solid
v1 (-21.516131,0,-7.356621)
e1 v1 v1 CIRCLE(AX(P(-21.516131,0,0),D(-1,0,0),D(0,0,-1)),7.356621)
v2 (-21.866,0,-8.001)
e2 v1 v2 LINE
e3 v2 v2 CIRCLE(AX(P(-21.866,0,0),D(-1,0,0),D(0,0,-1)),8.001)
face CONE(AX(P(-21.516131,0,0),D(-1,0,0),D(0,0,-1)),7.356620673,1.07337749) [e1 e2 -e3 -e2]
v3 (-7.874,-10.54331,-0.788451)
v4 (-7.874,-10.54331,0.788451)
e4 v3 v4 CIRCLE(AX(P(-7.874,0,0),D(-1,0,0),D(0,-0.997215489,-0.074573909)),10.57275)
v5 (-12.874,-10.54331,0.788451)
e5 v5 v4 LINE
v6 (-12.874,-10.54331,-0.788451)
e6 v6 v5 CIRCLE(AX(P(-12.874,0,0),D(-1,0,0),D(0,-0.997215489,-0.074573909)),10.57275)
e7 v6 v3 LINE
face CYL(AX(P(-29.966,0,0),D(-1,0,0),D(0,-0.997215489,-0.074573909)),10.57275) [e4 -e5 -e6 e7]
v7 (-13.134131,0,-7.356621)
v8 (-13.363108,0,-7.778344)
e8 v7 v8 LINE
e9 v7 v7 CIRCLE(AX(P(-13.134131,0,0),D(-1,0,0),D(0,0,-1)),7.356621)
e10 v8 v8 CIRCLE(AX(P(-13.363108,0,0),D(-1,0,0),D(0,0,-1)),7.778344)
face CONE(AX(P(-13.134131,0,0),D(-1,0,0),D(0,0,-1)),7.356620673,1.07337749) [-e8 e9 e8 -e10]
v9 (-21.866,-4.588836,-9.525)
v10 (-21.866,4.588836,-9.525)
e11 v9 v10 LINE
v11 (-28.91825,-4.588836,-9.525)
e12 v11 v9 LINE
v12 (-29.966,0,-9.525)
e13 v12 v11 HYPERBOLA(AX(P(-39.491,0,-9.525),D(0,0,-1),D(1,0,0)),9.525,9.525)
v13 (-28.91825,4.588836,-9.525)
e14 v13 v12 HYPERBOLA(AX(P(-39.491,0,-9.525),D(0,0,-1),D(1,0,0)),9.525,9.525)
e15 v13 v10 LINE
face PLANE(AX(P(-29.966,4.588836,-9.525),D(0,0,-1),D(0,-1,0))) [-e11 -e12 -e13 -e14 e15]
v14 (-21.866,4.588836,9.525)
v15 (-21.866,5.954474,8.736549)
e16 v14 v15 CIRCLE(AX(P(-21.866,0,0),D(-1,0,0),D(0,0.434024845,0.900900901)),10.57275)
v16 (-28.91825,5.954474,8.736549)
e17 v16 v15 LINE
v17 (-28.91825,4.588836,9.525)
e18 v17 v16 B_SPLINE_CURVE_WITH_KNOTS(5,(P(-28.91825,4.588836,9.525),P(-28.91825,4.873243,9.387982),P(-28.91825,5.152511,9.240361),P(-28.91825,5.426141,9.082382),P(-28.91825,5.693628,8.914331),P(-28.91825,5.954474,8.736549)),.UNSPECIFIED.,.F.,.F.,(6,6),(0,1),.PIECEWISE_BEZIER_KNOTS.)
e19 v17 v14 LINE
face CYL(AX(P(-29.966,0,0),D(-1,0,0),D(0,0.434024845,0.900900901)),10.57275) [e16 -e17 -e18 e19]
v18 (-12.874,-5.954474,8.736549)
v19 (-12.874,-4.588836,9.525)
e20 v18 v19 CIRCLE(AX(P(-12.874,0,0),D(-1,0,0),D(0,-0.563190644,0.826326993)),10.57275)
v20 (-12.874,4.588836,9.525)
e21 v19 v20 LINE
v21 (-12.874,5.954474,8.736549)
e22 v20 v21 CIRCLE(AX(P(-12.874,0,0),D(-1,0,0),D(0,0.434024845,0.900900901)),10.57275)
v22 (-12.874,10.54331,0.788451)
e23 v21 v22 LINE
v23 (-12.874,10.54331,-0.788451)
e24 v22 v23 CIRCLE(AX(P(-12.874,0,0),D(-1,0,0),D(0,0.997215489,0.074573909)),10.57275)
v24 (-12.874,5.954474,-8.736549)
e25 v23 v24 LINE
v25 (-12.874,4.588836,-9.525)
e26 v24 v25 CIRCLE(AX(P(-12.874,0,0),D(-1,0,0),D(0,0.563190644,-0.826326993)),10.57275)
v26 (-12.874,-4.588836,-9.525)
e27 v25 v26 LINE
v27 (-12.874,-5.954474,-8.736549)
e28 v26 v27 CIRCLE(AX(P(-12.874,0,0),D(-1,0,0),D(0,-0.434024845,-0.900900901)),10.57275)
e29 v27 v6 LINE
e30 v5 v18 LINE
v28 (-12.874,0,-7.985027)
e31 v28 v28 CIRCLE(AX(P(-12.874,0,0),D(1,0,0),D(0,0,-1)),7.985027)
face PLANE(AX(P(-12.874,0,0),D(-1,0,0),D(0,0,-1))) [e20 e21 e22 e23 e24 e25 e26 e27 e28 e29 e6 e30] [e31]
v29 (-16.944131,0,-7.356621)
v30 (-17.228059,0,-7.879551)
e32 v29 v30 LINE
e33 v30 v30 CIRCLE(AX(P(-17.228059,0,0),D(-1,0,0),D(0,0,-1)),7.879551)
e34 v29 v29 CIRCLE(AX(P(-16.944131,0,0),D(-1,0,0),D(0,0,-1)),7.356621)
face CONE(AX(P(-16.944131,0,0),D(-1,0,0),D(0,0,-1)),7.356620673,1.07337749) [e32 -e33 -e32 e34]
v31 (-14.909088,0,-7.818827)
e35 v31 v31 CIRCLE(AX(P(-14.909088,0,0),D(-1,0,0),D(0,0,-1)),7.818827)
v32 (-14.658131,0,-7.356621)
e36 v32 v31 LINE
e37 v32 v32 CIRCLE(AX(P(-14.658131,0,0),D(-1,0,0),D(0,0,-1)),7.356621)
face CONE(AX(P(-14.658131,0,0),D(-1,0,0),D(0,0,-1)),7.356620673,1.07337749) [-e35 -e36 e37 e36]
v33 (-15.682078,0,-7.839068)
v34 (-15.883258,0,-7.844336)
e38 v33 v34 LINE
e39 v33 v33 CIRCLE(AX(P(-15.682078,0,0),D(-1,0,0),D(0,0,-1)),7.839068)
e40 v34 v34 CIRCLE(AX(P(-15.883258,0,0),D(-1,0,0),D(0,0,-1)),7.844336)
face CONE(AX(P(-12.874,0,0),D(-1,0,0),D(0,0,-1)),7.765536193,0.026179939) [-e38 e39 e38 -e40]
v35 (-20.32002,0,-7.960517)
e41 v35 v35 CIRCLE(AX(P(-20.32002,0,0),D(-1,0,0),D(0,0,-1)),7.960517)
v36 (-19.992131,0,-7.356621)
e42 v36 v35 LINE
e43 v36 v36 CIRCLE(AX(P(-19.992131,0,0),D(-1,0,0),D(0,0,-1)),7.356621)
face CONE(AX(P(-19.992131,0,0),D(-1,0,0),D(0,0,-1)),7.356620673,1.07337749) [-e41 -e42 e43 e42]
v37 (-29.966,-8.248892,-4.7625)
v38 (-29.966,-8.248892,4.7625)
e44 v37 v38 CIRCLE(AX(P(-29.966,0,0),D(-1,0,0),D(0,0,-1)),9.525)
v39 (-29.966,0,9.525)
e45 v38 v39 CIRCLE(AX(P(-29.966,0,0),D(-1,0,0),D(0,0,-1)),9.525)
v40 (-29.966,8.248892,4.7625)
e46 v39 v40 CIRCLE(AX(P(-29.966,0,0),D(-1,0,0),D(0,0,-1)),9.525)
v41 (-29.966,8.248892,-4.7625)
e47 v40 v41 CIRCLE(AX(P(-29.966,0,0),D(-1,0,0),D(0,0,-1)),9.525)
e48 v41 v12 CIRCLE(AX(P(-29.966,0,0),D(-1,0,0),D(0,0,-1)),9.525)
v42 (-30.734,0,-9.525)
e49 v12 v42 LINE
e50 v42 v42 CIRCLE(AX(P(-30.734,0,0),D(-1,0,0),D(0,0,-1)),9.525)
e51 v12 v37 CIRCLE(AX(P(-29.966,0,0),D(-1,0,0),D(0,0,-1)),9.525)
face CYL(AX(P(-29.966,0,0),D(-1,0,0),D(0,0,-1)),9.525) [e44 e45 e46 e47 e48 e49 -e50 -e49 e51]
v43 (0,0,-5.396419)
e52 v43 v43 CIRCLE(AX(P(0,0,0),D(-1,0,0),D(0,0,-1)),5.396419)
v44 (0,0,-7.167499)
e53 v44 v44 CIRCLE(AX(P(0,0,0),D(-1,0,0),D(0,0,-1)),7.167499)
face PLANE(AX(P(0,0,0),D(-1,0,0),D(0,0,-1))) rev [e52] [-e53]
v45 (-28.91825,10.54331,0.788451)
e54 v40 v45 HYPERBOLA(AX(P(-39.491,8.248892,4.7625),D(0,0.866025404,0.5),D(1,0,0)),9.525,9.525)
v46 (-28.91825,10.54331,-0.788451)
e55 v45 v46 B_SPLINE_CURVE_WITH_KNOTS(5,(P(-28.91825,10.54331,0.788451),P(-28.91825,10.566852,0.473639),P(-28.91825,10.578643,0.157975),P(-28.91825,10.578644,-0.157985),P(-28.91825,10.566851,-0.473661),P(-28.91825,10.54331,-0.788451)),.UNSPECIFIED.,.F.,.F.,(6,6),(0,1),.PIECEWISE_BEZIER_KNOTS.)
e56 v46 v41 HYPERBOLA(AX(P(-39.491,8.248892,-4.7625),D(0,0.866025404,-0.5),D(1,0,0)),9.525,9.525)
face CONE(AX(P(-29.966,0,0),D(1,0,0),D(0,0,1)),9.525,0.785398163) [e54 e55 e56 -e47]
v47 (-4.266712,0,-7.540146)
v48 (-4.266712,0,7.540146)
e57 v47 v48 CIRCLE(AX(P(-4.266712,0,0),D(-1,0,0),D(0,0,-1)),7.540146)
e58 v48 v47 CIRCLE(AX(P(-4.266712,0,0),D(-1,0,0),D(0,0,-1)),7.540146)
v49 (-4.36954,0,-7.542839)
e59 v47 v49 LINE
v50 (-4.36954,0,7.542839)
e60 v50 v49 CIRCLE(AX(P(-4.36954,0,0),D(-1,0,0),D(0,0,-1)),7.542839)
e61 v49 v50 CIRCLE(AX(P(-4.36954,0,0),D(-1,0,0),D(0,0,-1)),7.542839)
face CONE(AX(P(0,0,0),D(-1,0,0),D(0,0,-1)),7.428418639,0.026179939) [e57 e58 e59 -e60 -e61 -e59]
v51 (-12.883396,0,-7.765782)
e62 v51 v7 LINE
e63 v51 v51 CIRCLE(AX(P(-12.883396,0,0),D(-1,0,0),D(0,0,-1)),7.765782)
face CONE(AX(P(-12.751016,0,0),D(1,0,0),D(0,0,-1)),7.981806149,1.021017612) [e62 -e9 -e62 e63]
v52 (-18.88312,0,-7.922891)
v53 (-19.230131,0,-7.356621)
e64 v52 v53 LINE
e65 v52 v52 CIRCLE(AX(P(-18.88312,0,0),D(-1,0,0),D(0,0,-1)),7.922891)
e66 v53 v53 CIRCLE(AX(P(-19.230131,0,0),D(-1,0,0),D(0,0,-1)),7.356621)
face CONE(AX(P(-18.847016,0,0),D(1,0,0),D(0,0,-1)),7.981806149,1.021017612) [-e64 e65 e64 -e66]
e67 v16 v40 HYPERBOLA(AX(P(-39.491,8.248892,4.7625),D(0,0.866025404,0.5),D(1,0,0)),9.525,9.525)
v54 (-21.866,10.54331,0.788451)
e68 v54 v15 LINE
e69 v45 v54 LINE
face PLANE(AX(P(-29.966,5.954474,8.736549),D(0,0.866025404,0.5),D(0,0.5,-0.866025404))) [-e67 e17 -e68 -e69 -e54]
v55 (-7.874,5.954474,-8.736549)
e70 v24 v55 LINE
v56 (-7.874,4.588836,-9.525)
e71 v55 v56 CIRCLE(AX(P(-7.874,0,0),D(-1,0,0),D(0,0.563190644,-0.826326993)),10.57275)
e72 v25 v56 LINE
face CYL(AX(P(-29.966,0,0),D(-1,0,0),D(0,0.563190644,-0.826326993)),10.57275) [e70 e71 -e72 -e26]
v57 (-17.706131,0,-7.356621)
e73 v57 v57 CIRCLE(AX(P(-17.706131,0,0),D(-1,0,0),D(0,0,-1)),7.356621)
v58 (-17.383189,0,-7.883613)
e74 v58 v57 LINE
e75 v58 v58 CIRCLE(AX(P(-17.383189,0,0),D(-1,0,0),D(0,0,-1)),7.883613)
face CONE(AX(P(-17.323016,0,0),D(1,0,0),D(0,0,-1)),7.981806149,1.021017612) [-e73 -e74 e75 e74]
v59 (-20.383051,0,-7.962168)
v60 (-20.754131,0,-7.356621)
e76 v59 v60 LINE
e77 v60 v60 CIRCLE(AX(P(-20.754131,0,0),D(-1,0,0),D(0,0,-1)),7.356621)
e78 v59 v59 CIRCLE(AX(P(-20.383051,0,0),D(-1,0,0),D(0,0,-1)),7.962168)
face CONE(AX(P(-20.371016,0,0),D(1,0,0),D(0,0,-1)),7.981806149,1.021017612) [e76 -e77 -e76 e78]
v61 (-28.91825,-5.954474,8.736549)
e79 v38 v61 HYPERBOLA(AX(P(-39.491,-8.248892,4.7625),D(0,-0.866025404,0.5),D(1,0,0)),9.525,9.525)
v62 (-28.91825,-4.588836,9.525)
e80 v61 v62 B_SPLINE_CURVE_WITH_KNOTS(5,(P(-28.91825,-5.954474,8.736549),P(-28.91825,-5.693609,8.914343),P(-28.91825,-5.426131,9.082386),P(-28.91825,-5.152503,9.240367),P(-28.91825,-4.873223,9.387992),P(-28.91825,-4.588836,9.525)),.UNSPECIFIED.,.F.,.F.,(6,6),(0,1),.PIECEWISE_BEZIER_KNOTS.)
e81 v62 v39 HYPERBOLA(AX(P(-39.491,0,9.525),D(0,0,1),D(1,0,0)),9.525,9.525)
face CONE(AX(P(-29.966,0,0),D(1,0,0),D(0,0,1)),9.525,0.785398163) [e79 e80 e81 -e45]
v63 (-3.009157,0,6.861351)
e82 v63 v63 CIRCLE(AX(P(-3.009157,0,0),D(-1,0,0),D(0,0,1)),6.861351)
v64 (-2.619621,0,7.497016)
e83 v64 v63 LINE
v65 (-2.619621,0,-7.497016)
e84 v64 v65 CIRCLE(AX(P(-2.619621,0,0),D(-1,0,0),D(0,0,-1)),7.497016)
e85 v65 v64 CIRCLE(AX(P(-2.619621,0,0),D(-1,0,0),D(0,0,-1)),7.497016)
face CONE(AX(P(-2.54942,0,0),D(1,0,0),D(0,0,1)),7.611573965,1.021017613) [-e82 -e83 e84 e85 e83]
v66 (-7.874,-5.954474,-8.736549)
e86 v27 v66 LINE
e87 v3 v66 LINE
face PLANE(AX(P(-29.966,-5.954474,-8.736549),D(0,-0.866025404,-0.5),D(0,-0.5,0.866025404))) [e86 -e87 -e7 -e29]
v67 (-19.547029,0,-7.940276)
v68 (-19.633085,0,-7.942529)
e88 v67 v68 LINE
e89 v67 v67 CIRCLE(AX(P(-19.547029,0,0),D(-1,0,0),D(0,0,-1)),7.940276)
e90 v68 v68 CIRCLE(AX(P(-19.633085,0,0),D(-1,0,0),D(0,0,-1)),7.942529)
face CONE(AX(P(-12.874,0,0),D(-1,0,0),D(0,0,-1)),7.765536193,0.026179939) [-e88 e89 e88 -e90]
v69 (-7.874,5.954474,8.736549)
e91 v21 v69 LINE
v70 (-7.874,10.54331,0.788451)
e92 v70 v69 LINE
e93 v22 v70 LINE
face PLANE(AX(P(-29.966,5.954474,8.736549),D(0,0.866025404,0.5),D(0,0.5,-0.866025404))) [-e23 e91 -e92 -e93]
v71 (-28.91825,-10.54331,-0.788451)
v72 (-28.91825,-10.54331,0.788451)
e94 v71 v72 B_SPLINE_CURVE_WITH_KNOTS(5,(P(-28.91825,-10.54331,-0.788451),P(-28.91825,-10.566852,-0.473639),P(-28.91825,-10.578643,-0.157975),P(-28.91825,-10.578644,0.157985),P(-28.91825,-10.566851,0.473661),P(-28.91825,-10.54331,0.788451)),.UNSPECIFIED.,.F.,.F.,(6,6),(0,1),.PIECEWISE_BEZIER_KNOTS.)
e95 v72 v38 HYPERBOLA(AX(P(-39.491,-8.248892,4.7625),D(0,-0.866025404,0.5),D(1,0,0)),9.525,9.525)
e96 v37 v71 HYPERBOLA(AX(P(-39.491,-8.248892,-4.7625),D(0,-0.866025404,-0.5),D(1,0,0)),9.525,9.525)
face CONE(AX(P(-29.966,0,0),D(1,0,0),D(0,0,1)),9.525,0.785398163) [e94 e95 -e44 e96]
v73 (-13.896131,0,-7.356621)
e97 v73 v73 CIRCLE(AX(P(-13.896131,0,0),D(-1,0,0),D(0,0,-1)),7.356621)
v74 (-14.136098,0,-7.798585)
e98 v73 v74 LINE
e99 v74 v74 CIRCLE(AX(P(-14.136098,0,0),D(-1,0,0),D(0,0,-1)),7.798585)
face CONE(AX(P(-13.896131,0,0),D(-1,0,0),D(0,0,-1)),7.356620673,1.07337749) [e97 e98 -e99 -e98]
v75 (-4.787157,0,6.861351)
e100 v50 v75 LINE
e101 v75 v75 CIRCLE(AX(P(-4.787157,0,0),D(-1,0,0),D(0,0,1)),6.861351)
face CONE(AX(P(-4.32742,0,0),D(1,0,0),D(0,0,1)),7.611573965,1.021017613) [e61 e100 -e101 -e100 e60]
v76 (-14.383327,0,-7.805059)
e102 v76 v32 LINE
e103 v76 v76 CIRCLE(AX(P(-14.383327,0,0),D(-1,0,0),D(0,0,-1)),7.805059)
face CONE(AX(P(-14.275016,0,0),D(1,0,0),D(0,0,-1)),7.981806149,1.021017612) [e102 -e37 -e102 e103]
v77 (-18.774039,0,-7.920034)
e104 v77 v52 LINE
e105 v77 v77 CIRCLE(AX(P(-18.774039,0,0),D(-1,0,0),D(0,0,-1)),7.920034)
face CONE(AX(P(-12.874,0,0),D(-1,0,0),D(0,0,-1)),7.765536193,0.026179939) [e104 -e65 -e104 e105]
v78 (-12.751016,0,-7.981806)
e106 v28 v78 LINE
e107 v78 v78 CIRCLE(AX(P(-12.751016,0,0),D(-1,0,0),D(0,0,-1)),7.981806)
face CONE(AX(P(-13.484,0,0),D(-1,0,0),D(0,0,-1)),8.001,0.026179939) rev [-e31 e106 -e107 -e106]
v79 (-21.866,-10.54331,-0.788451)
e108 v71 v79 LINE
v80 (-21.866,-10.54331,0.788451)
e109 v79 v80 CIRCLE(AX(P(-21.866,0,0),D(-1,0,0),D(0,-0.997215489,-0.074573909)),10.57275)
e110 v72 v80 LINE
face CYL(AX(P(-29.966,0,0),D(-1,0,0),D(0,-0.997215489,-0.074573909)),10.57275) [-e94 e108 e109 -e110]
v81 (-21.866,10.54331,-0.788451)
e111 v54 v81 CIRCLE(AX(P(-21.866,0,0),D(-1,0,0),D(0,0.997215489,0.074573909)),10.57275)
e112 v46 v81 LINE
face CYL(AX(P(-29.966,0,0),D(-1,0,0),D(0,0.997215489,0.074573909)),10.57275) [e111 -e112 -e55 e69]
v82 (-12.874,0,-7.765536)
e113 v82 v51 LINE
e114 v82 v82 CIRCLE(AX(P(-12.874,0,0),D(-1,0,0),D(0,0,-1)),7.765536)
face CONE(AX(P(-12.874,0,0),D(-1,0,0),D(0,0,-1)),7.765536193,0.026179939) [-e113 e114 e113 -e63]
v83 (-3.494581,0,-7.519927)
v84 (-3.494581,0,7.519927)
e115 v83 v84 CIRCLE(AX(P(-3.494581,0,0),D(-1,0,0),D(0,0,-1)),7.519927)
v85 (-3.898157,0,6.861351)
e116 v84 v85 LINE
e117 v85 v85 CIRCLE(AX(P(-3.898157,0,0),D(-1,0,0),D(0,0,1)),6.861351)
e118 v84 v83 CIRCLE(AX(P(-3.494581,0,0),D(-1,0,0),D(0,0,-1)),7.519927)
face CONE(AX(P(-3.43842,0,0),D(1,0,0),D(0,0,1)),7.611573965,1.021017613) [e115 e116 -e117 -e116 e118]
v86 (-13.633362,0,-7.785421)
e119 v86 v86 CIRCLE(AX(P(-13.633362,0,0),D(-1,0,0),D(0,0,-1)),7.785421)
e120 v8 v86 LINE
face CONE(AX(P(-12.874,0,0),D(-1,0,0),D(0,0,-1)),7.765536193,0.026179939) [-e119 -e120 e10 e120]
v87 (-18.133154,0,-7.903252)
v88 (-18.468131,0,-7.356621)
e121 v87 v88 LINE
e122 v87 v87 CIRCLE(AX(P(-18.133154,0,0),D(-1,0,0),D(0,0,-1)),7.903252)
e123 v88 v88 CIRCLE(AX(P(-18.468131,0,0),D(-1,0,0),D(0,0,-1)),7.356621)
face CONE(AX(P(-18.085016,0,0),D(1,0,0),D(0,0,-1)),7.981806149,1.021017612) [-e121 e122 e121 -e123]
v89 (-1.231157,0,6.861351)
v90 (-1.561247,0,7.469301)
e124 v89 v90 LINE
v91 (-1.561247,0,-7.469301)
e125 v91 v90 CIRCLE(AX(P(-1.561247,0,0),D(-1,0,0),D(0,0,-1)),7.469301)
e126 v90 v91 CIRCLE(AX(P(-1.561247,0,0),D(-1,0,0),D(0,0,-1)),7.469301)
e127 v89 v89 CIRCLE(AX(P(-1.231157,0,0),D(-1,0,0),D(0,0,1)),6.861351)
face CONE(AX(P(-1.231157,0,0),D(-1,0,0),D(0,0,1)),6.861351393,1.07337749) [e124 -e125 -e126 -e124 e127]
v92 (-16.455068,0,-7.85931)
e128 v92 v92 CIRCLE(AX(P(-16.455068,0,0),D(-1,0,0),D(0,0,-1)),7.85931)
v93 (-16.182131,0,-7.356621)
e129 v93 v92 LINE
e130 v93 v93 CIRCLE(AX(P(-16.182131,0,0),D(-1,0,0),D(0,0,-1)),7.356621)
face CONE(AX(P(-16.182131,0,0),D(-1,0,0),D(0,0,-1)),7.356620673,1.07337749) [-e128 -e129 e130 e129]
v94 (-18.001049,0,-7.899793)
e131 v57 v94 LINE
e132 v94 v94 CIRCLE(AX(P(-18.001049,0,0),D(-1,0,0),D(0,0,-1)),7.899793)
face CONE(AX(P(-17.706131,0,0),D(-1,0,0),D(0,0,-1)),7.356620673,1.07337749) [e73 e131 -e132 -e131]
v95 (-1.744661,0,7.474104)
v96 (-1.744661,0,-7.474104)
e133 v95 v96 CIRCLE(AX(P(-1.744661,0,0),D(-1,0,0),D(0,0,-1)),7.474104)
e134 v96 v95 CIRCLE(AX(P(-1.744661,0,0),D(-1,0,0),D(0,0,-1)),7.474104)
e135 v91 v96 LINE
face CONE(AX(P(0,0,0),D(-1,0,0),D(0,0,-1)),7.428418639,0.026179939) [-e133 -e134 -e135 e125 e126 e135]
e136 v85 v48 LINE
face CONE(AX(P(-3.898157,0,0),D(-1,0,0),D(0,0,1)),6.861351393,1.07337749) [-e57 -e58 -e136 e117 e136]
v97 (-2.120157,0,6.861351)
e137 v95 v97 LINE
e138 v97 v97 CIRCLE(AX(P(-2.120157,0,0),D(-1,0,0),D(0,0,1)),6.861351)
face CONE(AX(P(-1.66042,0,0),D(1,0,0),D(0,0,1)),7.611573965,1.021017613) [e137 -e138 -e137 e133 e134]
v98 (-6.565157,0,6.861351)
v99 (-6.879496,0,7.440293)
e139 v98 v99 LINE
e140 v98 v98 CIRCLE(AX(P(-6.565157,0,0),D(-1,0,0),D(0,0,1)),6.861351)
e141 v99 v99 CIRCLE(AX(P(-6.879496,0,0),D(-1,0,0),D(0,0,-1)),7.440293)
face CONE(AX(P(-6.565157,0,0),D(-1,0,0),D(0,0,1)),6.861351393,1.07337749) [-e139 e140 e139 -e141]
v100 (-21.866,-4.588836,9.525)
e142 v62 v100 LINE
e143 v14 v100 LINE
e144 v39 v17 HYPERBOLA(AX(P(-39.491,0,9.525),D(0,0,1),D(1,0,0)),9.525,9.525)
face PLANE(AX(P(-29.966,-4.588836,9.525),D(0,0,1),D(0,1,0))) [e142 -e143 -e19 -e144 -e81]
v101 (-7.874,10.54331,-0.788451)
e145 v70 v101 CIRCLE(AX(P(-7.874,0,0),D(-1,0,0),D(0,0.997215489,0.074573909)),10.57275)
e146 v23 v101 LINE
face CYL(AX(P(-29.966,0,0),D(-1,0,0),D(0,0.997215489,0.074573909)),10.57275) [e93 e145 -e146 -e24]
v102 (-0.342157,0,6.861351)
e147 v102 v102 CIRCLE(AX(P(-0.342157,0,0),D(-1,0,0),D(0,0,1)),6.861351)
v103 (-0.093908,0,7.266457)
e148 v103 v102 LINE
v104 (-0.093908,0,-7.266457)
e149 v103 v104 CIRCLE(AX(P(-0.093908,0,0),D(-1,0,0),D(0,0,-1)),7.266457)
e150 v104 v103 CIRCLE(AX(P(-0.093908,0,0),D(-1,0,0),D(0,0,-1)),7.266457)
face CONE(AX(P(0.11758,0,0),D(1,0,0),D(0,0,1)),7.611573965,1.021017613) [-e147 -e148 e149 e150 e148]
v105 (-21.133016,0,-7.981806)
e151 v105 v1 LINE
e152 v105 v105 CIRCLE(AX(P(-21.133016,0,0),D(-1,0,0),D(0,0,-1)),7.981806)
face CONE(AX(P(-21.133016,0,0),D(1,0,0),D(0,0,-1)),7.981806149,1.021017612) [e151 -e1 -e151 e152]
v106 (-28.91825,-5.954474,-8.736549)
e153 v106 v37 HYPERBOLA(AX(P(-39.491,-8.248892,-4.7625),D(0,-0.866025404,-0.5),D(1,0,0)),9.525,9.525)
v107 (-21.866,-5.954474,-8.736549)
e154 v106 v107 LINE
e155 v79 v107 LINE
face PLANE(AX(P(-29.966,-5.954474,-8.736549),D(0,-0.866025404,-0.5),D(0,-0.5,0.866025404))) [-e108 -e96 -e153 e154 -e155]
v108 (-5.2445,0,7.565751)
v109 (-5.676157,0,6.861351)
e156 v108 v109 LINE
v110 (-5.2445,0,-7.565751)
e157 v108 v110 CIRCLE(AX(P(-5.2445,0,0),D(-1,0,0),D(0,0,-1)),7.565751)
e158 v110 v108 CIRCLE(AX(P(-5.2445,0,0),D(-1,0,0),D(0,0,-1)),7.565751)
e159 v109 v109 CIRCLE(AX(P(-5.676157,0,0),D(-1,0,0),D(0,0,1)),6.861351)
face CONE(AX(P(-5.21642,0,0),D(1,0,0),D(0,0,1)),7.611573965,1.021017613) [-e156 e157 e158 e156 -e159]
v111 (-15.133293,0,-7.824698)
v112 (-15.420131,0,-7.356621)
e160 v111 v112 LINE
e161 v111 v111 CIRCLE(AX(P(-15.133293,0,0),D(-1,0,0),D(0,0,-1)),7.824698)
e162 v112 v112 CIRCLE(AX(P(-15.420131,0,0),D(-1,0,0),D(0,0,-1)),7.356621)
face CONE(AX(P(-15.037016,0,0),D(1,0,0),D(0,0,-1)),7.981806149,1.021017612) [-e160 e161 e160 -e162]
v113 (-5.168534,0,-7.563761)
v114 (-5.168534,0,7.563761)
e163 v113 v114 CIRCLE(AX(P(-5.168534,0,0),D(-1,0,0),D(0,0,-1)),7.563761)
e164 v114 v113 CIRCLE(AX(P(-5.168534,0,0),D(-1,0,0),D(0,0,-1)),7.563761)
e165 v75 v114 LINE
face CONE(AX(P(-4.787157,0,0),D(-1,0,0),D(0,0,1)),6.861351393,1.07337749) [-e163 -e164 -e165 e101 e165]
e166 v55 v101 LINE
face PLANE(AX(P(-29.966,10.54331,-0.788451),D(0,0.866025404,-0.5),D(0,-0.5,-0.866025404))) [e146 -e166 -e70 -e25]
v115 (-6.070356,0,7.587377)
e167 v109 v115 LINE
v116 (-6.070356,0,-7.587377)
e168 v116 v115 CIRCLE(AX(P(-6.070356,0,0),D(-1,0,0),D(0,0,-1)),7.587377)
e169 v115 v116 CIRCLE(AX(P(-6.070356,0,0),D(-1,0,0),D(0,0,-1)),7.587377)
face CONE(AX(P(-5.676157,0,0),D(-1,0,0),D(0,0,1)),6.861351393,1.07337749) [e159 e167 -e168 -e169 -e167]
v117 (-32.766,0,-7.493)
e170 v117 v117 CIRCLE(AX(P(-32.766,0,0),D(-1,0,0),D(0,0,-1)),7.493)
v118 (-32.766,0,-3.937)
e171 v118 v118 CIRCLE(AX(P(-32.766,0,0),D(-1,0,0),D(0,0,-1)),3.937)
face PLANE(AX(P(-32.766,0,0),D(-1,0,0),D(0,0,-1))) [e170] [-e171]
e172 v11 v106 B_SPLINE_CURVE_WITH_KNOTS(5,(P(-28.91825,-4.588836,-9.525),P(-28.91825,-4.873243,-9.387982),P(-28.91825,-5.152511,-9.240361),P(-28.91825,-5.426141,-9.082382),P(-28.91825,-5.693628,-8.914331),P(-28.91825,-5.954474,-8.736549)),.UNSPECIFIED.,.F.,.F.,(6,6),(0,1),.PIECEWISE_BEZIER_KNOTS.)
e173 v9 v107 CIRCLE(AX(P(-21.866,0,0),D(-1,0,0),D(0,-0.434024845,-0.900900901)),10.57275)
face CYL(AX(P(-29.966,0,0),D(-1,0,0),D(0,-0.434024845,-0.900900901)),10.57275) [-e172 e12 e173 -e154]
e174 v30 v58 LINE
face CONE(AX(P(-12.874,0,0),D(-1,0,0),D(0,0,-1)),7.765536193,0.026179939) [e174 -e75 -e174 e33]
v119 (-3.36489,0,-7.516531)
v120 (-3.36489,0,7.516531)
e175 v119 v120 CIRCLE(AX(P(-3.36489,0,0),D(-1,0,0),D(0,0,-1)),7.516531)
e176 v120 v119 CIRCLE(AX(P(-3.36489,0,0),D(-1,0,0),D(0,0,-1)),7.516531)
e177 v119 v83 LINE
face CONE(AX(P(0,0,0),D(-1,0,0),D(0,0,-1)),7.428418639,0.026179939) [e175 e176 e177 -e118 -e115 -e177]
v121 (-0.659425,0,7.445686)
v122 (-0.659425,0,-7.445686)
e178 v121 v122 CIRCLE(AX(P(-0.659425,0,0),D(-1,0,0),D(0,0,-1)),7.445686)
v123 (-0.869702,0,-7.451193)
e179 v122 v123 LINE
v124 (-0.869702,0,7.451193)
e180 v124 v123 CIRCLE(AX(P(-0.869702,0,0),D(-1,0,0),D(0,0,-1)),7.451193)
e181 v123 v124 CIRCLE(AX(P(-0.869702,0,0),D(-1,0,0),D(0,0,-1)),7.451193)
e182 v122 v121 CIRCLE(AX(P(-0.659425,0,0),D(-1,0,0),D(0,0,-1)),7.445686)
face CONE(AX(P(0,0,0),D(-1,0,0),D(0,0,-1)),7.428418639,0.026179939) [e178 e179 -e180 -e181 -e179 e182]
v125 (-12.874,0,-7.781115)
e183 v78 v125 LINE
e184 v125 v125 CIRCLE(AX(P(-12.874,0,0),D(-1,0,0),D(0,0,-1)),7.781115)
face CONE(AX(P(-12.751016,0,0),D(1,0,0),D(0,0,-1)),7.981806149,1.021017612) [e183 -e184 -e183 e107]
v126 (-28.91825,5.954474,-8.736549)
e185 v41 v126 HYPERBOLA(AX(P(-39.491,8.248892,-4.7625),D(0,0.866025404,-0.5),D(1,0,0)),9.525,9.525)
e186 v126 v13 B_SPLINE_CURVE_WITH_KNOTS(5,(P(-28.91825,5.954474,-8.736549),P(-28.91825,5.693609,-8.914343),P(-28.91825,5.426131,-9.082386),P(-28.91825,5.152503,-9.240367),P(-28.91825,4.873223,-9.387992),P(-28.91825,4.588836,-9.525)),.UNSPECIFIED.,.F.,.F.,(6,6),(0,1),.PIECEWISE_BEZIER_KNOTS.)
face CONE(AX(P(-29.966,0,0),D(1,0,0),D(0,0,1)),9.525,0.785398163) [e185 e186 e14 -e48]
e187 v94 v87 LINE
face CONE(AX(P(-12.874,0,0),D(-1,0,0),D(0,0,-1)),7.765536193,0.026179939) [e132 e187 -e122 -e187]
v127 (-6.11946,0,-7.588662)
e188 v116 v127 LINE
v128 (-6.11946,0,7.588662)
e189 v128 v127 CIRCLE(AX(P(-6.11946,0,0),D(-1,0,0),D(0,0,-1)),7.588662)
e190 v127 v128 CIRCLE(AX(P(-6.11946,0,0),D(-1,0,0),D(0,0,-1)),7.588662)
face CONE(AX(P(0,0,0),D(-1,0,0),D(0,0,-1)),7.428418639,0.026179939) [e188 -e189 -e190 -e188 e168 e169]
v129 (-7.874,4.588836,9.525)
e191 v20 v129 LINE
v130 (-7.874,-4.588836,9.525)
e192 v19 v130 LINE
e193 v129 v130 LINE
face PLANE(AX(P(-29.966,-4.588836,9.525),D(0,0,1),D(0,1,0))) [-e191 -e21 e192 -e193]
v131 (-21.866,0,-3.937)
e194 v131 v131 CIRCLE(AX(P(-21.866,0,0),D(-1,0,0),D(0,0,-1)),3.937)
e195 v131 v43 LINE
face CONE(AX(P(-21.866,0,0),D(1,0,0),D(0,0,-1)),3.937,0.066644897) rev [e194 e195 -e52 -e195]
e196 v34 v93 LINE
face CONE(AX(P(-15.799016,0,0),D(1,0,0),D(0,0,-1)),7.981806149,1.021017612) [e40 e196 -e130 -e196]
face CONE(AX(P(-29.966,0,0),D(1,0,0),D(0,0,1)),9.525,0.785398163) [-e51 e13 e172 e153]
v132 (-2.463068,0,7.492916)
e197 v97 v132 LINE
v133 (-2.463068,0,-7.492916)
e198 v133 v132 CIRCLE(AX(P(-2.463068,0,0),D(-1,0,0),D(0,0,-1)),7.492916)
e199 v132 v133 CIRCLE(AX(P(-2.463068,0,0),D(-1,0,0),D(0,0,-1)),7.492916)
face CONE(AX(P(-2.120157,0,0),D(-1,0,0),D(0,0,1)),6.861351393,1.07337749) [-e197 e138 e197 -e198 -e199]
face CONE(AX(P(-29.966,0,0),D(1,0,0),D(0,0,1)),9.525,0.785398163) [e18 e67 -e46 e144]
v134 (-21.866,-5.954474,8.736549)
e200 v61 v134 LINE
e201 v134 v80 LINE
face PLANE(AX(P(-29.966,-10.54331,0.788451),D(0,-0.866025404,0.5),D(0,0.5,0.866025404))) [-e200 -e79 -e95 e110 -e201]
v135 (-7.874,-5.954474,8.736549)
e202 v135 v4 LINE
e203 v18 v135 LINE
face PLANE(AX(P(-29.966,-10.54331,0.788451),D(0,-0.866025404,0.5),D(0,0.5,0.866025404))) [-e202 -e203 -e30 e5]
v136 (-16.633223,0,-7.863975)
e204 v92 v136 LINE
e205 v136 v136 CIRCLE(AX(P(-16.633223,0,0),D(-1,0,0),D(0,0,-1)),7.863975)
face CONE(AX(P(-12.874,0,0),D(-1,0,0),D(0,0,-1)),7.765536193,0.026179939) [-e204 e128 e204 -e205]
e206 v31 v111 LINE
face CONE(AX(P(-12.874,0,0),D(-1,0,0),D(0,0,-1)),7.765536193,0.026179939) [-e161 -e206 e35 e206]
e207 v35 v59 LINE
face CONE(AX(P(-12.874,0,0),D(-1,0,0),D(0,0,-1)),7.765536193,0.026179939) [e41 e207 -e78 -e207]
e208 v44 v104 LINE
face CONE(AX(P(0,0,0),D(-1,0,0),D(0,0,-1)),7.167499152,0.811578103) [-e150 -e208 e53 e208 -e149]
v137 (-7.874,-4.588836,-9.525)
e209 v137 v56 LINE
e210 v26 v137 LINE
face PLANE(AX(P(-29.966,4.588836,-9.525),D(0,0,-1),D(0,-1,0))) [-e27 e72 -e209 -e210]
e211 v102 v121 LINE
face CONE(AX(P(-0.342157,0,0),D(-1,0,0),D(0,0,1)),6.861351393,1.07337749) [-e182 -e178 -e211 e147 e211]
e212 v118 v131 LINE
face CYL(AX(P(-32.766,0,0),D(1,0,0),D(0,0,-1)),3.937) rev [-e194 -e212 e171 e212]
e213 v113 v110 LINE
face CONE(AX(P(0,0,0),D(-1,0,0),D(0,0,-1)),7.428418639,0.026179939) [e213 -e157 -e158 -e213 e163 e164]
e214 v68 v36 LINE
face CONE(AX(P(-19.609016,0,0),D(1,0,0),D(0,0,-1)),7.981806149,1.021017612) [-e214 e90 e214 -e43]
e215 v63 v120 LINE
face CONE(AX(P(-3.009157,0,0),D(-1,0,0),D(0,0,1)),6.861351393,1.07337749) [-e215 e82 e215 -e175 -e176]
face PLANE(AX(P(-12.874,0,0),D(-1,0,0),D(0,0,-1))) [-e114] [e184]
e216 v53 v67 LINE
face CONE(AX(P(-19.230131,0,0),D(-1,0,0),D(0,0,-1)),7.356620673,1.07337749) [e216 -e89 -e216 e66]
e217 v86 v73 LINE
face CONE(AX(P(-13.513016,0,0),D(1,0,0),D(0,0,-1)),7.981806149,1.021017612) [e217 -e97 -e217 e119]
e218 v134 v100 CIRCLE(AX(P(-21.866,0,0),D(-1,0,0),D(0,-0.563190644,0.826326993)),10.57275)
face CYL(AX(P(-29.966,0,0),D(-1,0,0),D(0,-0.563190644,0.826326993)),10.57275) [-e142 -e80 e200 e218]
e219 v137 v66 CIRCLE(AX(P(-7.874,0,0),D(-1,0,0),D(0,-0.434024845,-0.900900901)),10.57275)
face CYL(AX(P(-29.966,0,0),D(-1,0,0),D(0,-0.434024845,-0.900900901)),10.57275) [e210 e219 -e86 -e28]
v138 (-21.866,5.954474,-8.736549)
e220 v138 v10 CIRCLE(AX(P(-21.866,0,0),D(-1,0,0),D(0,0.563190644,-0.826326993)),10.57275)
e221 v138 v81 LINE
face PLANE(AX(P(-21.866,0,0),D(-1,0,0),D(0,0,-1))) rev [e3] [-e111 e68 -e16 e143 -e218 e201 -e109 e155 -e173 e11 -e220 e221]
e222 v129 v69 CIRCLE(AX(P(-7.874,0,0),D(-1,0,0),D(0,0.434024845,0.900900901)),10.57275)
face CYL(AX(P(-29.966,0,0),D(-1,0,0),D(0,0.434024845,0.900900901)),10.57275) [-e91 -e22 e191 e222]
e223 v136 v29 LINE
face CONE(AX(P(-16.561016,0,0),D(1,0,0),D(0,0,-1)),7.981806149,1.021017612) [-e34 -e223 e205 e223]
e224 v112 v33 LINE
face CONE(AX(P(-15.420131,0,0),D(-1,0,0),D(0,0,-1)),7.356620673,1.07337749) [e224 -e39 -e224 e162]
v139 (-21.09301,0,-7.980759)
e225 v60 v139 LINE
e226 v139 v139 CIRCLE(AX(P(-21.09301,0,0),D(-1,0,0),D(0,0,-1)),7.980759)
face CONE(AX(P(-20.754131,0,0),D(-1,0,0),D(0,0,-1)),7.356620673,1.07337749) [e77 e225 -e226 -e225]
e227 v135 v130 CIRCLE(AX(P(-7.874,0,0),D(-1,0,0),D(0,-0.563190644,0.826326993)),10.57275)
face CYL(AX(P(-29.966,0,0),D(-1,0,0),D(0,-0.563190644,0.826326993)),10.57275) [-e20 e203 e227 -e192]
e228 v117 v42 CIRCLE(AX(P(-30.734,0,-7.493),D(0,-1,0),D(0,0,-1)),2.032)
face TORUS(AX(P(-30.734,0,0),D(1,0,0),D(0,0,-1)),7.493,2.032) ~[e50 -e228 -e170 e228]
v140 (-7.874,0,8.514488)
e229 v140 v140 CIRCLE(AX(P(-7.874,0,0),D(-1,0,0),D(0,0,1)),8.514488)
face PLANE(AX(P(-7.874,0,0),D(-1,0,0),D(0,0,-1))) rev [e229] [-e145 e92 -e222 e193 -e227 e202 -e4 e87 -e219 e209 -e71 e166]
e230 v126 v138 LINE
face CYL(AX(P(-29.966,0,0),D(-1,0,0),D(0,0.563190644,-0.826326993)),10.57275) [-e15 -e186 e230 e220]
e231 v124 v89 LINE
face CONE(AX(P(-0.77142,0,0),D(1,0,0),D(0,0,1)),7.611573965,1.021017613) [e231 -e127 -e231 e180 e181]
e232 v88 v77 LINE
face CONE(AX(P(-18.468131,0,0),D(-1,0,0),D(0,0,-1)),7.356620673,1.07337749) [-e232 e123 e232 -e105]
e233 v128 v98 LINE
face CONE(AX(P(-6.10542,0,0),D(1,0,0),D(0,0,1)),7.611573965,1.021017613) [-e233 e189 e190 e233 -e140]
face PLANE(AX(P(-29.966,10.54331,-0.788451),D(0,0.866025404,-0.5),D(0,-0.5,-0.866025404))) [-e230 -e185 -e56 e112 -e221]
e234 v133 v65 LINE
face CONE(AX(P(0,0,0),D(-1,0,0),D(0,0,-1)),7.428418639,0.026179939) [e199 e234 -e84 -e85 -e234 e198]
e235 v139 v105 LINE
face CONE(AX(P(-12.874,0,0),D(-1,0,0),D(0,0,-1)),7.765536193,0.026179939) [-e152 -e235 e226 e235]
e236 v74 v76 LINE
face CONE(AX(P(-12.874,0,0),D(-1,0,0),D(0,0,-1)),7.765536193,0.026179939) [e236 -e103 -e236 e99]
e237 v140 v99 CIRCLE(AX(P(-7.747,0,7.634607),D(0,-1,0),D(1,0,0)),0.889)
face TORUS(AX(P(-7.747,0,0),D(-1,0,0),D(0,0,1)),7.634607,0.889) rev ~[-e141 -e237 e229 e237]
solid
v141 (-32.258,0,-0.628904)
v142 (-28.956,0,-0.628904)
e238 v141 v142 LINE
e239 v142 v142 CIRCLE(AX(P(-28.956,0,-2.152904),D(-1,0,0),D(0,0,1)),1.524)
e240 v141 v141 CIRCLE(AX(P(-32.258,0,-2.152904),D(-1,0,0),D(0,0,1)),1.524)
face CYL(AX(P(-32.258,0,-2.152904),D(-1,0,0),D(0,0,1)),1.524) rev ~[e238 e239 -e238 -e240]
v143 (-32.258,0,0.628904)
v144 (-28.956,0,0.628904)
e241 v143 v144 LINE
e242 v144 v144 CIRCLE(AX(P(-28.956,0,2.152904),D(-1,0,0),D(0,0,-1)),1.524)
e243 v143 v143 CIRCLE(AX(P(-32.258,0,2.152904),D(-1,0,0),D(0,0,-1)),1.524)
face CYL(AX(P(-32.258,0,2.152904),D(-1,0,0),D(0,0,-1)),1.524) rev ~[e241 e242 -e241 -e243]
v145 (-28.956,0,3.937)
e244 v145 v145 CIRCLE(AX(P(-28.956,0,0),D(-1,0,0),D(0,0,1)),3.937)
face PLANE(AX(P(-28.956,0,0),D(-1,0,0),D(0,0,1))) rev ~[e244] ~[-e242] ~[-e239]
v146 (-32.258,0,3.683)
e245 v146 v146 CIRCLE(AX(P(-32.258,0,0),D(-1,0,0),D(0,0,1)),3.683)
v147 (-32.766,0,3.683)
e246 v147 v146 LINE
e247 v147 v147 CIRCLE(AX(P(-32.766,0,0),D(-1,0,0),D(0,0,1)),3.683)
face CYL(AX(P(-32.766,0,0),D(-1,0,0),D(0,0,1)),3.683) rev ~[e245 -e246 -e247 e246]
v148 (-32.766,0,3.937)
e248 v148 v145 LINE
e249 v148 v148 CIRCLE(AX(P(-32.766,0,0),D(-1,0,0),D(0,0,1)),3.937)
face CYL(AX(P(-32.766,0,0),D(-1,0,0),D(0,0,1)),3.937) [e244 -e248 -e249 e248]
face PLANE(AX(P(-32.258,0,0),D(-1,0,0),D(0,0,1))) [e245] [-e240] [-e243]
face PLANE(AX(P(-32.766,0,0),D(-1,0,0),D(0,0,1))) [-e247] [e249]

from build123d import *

# Parameters (mm, degrees)
SKETCH12_OUTSIDE_W = 52.712
SKETCH12_OUTSIDE_H = 52.712
CUT_EXTRUDE2_DEPTH = 30.966
FILLET4_R          = 2.032
SKETCH19_OUTSIDE_W = 33.73
SKETCH19_OUTSIDE_H = 35.826
SKETCH19_OUTSIDE_R = 9.525
CUT_EXTRUDE3_DEPTH = 1.999996
CUT_EXTRUDE3_DRAFT = -45
CHAMFER1_SIZE      = 0.260919487
CHAMFER1_SIZE2     = 0.254
SKETCH21_R         = 3.937
PLUG_DEPTH         = 3.81
SKETCH22_R         = 3.683
CUT_EXTRUDE4_DEPTH = 0.508
SKETCH27_R         = 1.524
PLUGHOLES_DEPTH    = 33.258
CIRPATTERN1_COUNT  = 2
LPATTERN1_COUNT    = 12
LPATTERN1_PITCH    = 0.762
LPATTERN2_COUNT    = 9
LPATTERN2_PITCH    = 0.889
SKETCH32_R         = 0.889


with BuildPart() as part:
    # Sketch10 → Revolve2 (revolve)
    with BuildSketch(Plane.XY, mode=Mode.PRIVATE) as revolve2_sk:
        Polygon((-32.766, 3.937), (-21.866, 3.937), (0, 5.396418639), (0, 7.428418639), (-7.874, 7.634606585), (-7.874, 19.05), (-12.874, 19.05), (-12.874, 7.765536193), (-21.866, 8.001), (-21.866, 19.05), (-29.966, 19.05), (-29.966, 9.525), (-32.766, 9.525), align=None)
    revolve(revolve2_sk.sketch.rotate(Axis((0, 0, 0), (-1, 0, 0)), 90), axis=Axis((0, 0, 0), (-1, 0, 0)))  # turned: the seam where the file's is

    # Sketch12 outside → Cut-Extrude2 (cut, through all)
    with BuildSketch(Plane.ZY.offset(29.966)):
        Rectangle(SKETCH12_OUTSIDE_W, SKETCH12_OUTSIDE_H)
        with BuildLine():
            Line((-0.788451287, 10.543310065), (-8.736548713, 5.954473877))
            ThreePointArc((-8.736548713, 5.954473877), (-9.156270088, 5.286375), (-9.525, 4.588836188))
            Line((-9.525, 4.588836188), (-9.525, -4.588836188))
            ThreePointArc((-9.525, -4.588836188), (-9.156270088, -5.286375), (-8.736548713, -5.954473877))
            Line((-8.736548713, -5.954473877), (-0.788451287, -10.543310065))
            ThreePointArc((-0.788451287, -10.543310065), (0, -10.57275), (0.788451287, -10.543310065))
            Line((0.788451287, -10.543310065), (8.736548713, -5.954473877))
            ThreePointArc((8.736548713, -5.954473877), (9.156270088, -5.286375), (9.525, -4.588836188))
            Line((9.525, -4.588836188), (9.525, 4.588836188))
            ThreePointArc((9.525, 4.588836188), (9.156270088, 5.286375), (8.736548713, 5.954473877))
            Line((8.736548713, 5.954473877), (0.788451287, 10.543310065))
            ThreePointArc((0.788451287, 10.543310065), (0, 10.57275), (-0.788451287, 10.543310065))
        make_face(mode=Mode.SUBTRACT)
    extrude(amount=-CUT_EXTRUDE2_DEPTH, mode=Mode.SUBTRACT)

    # Fillet4
    fillet4_edges = [part.edges().sort_by_distance(p)[0] for p in [
        (-32.766, 0, 9.525),
    ]]
    fillet(fillet4_edges, radius=FILLET4_R)


with BuildPart() as cut_extrude3_tool:
    # Sketch19 outside → Cut-Extrude3 (with draft: the straight prism first)
    with BuildSketch(Plane.ZY.offset(29.966)):
        Rectangle(SKETCH19_OUTSIDE_W, SKETCH19_OUTSIDE_H)
        Circle(SKETCH19_OUTSIDE_R, mode=Mode.SUBTRACT)
    extrude(amount=-CUT_EXTRUDE3_DEPTH)
    # Cut-Extrude3: the draft: its side faces are tilted about the plane it starts from
    cut_extrude3_sides = [cut_extrude3_tool.faces().sort_by_distance(p)[0] for p in [
        (-28.966002, -17.913, 0),
        (-28.966002, 0, 16.865),
        (-28.966002, 17.913, 0),
        (-28.966002, 0, -16.865),
        (-28.966002, 0, -9.525),
    ]]
    draft(cut_extrude3_sides, Plane.ZY.offset(29.966), CUT_EXTRUDE3_DRAFT)


with BuildPart() as part_1:
    add(part.part)

    # Cut-Extrude3: cut by cut_extrude3_tool
    add(cut_extrude3_tool.part, mode=Mode.SUBTRACT)

    # Chamfer1
    chamfer1_edges = [part_1.edges().sort_by_distance(p)[0] for p in [
        (0, 0, 7.428418639),
    ]]
    chamfer1_side = [part_1.faces().sort_by_distance(p)[0] for p in [
        (0, 0, 5.606526047),
    ]]
    chamfer(chamfer1_edges, length=CHAMFER1_SIZE, length2=CHAMFER1_SIZE2, reference=chamfer1_side[0])

    # Sketch29 → Cut-Revolve1 (revolve, cut)
    with BuildSketch(Plane.XY, mode=Mode.PRIVATE) as cut_revolve1_sk:
        Polygon((-21.866, 8.001), (-21.133016419, 7.981806149), (-21.516130572, 7.356620673), align=None)
    cut_revolve1 = revolve(cut_revolve1_sk.sketch.rotate(Axis((0, 0, 0), (-1, 0, 0)), 90), axis=Axis((0, 0, 0), (-1, 0, 0)), mode=Mode.SUBTRACT)  # turned: the seam where the file's is

    # LPattern1: Cut-Revolve1 ×12
    with Locations(*[(i * LPATTERN1_PITCH, 0, 0) for i in range(1, LPATTERN1_COUNT)]):
        add(cut_revolve1, mode=Mode.SUBTRACT)

    # Sketch30 → Cut-Revolve2 (revolve, cut)
    with BuildSketch(Plane.XY, mode=Mode.PRIVATE) as cut_revolve2_sk:
        Polygon((-7.874, 7.634606585), (-6.994419703, 7.611573965), (-7.454156686, 6.861351393), align=None)
    cut_revolve2 = revolve(cut_revolve2_sk.sketch.rotate(Axis((0, 0, 0), (-1, 0, 0)), 270), axis=Axis((0, 0, 0), (-1, 0, 0)), mode=Mode.SUBTRACT)  # turned: the seam where the file's is

    # LPattern2: Cut-Revolve2 ×9
    with Locations(*[(i * LPATTERN2_PITCH, 0, 0) for i in range(1, LPATTERN2_COUNT)]):
        add(cut_revolve2, mode=Mode.SUBTRACT)

    # Sketch32 → Cut-Revolve3 (revolve, cut)
    with BuildSketch(Plane.XY, mode=Mode.PRIVATE) as cut_revolve3_sk:
        with Locations((-7.747, 7.634606585)):
            Circle(SKETCH32_R)
    revolve(cut_revolve3_sk.sketch.rotate(Axis((0, 0, 0), (-1, 0, 0)), 270), axis=Axis((0, 0, 0), (-1, 0, 0)), mode=Mode.SUBTRACT)  # turned: the seam where the file's is


with BuildPart() as body_2:
    # Sketch21 → plug (new body)
    with BuildSketch(Plane.ZY.offset(32.766)):
        Circle(SKETCH21_R)
    extrude(amount=-PLUG_DEPTH)

    # Sketch22 → Cut-Extrude4 (cut)
    with BuildSketch(Plane.ZY.offset(32.766)):
        Circle(SKETCH22_R)
    extrude(amount=-CUT_EXTRUDE4_DEPTH, mode=Mode.SUBTRACT)

    # Sketch27 → plugholes (cut, through all)
    with BuildSketch(Plane.ZY.offset(32.258)):
        with Locations((-2.152904, 0)):
            Circle(SKETCH27_R)
    plugholes = extrude(amount=-PLUGHOLES_DEPTH, mode=Mode.SUBTRACT)

    # CirPattern1: plugholes ×2 about axis
    cirpattern1_axis = Axis((0, 0, 0), (1, 0, 0))
    for i in range(1, CIRPATTERN1_COUNT):
        add(plugholes.rotate(cirpattern1_axis, i * 360 / CIRPATTERN1_COUNT), mode=Mode.SUBTRACT)


solid = Compound([part_1.part, body_2.part])
